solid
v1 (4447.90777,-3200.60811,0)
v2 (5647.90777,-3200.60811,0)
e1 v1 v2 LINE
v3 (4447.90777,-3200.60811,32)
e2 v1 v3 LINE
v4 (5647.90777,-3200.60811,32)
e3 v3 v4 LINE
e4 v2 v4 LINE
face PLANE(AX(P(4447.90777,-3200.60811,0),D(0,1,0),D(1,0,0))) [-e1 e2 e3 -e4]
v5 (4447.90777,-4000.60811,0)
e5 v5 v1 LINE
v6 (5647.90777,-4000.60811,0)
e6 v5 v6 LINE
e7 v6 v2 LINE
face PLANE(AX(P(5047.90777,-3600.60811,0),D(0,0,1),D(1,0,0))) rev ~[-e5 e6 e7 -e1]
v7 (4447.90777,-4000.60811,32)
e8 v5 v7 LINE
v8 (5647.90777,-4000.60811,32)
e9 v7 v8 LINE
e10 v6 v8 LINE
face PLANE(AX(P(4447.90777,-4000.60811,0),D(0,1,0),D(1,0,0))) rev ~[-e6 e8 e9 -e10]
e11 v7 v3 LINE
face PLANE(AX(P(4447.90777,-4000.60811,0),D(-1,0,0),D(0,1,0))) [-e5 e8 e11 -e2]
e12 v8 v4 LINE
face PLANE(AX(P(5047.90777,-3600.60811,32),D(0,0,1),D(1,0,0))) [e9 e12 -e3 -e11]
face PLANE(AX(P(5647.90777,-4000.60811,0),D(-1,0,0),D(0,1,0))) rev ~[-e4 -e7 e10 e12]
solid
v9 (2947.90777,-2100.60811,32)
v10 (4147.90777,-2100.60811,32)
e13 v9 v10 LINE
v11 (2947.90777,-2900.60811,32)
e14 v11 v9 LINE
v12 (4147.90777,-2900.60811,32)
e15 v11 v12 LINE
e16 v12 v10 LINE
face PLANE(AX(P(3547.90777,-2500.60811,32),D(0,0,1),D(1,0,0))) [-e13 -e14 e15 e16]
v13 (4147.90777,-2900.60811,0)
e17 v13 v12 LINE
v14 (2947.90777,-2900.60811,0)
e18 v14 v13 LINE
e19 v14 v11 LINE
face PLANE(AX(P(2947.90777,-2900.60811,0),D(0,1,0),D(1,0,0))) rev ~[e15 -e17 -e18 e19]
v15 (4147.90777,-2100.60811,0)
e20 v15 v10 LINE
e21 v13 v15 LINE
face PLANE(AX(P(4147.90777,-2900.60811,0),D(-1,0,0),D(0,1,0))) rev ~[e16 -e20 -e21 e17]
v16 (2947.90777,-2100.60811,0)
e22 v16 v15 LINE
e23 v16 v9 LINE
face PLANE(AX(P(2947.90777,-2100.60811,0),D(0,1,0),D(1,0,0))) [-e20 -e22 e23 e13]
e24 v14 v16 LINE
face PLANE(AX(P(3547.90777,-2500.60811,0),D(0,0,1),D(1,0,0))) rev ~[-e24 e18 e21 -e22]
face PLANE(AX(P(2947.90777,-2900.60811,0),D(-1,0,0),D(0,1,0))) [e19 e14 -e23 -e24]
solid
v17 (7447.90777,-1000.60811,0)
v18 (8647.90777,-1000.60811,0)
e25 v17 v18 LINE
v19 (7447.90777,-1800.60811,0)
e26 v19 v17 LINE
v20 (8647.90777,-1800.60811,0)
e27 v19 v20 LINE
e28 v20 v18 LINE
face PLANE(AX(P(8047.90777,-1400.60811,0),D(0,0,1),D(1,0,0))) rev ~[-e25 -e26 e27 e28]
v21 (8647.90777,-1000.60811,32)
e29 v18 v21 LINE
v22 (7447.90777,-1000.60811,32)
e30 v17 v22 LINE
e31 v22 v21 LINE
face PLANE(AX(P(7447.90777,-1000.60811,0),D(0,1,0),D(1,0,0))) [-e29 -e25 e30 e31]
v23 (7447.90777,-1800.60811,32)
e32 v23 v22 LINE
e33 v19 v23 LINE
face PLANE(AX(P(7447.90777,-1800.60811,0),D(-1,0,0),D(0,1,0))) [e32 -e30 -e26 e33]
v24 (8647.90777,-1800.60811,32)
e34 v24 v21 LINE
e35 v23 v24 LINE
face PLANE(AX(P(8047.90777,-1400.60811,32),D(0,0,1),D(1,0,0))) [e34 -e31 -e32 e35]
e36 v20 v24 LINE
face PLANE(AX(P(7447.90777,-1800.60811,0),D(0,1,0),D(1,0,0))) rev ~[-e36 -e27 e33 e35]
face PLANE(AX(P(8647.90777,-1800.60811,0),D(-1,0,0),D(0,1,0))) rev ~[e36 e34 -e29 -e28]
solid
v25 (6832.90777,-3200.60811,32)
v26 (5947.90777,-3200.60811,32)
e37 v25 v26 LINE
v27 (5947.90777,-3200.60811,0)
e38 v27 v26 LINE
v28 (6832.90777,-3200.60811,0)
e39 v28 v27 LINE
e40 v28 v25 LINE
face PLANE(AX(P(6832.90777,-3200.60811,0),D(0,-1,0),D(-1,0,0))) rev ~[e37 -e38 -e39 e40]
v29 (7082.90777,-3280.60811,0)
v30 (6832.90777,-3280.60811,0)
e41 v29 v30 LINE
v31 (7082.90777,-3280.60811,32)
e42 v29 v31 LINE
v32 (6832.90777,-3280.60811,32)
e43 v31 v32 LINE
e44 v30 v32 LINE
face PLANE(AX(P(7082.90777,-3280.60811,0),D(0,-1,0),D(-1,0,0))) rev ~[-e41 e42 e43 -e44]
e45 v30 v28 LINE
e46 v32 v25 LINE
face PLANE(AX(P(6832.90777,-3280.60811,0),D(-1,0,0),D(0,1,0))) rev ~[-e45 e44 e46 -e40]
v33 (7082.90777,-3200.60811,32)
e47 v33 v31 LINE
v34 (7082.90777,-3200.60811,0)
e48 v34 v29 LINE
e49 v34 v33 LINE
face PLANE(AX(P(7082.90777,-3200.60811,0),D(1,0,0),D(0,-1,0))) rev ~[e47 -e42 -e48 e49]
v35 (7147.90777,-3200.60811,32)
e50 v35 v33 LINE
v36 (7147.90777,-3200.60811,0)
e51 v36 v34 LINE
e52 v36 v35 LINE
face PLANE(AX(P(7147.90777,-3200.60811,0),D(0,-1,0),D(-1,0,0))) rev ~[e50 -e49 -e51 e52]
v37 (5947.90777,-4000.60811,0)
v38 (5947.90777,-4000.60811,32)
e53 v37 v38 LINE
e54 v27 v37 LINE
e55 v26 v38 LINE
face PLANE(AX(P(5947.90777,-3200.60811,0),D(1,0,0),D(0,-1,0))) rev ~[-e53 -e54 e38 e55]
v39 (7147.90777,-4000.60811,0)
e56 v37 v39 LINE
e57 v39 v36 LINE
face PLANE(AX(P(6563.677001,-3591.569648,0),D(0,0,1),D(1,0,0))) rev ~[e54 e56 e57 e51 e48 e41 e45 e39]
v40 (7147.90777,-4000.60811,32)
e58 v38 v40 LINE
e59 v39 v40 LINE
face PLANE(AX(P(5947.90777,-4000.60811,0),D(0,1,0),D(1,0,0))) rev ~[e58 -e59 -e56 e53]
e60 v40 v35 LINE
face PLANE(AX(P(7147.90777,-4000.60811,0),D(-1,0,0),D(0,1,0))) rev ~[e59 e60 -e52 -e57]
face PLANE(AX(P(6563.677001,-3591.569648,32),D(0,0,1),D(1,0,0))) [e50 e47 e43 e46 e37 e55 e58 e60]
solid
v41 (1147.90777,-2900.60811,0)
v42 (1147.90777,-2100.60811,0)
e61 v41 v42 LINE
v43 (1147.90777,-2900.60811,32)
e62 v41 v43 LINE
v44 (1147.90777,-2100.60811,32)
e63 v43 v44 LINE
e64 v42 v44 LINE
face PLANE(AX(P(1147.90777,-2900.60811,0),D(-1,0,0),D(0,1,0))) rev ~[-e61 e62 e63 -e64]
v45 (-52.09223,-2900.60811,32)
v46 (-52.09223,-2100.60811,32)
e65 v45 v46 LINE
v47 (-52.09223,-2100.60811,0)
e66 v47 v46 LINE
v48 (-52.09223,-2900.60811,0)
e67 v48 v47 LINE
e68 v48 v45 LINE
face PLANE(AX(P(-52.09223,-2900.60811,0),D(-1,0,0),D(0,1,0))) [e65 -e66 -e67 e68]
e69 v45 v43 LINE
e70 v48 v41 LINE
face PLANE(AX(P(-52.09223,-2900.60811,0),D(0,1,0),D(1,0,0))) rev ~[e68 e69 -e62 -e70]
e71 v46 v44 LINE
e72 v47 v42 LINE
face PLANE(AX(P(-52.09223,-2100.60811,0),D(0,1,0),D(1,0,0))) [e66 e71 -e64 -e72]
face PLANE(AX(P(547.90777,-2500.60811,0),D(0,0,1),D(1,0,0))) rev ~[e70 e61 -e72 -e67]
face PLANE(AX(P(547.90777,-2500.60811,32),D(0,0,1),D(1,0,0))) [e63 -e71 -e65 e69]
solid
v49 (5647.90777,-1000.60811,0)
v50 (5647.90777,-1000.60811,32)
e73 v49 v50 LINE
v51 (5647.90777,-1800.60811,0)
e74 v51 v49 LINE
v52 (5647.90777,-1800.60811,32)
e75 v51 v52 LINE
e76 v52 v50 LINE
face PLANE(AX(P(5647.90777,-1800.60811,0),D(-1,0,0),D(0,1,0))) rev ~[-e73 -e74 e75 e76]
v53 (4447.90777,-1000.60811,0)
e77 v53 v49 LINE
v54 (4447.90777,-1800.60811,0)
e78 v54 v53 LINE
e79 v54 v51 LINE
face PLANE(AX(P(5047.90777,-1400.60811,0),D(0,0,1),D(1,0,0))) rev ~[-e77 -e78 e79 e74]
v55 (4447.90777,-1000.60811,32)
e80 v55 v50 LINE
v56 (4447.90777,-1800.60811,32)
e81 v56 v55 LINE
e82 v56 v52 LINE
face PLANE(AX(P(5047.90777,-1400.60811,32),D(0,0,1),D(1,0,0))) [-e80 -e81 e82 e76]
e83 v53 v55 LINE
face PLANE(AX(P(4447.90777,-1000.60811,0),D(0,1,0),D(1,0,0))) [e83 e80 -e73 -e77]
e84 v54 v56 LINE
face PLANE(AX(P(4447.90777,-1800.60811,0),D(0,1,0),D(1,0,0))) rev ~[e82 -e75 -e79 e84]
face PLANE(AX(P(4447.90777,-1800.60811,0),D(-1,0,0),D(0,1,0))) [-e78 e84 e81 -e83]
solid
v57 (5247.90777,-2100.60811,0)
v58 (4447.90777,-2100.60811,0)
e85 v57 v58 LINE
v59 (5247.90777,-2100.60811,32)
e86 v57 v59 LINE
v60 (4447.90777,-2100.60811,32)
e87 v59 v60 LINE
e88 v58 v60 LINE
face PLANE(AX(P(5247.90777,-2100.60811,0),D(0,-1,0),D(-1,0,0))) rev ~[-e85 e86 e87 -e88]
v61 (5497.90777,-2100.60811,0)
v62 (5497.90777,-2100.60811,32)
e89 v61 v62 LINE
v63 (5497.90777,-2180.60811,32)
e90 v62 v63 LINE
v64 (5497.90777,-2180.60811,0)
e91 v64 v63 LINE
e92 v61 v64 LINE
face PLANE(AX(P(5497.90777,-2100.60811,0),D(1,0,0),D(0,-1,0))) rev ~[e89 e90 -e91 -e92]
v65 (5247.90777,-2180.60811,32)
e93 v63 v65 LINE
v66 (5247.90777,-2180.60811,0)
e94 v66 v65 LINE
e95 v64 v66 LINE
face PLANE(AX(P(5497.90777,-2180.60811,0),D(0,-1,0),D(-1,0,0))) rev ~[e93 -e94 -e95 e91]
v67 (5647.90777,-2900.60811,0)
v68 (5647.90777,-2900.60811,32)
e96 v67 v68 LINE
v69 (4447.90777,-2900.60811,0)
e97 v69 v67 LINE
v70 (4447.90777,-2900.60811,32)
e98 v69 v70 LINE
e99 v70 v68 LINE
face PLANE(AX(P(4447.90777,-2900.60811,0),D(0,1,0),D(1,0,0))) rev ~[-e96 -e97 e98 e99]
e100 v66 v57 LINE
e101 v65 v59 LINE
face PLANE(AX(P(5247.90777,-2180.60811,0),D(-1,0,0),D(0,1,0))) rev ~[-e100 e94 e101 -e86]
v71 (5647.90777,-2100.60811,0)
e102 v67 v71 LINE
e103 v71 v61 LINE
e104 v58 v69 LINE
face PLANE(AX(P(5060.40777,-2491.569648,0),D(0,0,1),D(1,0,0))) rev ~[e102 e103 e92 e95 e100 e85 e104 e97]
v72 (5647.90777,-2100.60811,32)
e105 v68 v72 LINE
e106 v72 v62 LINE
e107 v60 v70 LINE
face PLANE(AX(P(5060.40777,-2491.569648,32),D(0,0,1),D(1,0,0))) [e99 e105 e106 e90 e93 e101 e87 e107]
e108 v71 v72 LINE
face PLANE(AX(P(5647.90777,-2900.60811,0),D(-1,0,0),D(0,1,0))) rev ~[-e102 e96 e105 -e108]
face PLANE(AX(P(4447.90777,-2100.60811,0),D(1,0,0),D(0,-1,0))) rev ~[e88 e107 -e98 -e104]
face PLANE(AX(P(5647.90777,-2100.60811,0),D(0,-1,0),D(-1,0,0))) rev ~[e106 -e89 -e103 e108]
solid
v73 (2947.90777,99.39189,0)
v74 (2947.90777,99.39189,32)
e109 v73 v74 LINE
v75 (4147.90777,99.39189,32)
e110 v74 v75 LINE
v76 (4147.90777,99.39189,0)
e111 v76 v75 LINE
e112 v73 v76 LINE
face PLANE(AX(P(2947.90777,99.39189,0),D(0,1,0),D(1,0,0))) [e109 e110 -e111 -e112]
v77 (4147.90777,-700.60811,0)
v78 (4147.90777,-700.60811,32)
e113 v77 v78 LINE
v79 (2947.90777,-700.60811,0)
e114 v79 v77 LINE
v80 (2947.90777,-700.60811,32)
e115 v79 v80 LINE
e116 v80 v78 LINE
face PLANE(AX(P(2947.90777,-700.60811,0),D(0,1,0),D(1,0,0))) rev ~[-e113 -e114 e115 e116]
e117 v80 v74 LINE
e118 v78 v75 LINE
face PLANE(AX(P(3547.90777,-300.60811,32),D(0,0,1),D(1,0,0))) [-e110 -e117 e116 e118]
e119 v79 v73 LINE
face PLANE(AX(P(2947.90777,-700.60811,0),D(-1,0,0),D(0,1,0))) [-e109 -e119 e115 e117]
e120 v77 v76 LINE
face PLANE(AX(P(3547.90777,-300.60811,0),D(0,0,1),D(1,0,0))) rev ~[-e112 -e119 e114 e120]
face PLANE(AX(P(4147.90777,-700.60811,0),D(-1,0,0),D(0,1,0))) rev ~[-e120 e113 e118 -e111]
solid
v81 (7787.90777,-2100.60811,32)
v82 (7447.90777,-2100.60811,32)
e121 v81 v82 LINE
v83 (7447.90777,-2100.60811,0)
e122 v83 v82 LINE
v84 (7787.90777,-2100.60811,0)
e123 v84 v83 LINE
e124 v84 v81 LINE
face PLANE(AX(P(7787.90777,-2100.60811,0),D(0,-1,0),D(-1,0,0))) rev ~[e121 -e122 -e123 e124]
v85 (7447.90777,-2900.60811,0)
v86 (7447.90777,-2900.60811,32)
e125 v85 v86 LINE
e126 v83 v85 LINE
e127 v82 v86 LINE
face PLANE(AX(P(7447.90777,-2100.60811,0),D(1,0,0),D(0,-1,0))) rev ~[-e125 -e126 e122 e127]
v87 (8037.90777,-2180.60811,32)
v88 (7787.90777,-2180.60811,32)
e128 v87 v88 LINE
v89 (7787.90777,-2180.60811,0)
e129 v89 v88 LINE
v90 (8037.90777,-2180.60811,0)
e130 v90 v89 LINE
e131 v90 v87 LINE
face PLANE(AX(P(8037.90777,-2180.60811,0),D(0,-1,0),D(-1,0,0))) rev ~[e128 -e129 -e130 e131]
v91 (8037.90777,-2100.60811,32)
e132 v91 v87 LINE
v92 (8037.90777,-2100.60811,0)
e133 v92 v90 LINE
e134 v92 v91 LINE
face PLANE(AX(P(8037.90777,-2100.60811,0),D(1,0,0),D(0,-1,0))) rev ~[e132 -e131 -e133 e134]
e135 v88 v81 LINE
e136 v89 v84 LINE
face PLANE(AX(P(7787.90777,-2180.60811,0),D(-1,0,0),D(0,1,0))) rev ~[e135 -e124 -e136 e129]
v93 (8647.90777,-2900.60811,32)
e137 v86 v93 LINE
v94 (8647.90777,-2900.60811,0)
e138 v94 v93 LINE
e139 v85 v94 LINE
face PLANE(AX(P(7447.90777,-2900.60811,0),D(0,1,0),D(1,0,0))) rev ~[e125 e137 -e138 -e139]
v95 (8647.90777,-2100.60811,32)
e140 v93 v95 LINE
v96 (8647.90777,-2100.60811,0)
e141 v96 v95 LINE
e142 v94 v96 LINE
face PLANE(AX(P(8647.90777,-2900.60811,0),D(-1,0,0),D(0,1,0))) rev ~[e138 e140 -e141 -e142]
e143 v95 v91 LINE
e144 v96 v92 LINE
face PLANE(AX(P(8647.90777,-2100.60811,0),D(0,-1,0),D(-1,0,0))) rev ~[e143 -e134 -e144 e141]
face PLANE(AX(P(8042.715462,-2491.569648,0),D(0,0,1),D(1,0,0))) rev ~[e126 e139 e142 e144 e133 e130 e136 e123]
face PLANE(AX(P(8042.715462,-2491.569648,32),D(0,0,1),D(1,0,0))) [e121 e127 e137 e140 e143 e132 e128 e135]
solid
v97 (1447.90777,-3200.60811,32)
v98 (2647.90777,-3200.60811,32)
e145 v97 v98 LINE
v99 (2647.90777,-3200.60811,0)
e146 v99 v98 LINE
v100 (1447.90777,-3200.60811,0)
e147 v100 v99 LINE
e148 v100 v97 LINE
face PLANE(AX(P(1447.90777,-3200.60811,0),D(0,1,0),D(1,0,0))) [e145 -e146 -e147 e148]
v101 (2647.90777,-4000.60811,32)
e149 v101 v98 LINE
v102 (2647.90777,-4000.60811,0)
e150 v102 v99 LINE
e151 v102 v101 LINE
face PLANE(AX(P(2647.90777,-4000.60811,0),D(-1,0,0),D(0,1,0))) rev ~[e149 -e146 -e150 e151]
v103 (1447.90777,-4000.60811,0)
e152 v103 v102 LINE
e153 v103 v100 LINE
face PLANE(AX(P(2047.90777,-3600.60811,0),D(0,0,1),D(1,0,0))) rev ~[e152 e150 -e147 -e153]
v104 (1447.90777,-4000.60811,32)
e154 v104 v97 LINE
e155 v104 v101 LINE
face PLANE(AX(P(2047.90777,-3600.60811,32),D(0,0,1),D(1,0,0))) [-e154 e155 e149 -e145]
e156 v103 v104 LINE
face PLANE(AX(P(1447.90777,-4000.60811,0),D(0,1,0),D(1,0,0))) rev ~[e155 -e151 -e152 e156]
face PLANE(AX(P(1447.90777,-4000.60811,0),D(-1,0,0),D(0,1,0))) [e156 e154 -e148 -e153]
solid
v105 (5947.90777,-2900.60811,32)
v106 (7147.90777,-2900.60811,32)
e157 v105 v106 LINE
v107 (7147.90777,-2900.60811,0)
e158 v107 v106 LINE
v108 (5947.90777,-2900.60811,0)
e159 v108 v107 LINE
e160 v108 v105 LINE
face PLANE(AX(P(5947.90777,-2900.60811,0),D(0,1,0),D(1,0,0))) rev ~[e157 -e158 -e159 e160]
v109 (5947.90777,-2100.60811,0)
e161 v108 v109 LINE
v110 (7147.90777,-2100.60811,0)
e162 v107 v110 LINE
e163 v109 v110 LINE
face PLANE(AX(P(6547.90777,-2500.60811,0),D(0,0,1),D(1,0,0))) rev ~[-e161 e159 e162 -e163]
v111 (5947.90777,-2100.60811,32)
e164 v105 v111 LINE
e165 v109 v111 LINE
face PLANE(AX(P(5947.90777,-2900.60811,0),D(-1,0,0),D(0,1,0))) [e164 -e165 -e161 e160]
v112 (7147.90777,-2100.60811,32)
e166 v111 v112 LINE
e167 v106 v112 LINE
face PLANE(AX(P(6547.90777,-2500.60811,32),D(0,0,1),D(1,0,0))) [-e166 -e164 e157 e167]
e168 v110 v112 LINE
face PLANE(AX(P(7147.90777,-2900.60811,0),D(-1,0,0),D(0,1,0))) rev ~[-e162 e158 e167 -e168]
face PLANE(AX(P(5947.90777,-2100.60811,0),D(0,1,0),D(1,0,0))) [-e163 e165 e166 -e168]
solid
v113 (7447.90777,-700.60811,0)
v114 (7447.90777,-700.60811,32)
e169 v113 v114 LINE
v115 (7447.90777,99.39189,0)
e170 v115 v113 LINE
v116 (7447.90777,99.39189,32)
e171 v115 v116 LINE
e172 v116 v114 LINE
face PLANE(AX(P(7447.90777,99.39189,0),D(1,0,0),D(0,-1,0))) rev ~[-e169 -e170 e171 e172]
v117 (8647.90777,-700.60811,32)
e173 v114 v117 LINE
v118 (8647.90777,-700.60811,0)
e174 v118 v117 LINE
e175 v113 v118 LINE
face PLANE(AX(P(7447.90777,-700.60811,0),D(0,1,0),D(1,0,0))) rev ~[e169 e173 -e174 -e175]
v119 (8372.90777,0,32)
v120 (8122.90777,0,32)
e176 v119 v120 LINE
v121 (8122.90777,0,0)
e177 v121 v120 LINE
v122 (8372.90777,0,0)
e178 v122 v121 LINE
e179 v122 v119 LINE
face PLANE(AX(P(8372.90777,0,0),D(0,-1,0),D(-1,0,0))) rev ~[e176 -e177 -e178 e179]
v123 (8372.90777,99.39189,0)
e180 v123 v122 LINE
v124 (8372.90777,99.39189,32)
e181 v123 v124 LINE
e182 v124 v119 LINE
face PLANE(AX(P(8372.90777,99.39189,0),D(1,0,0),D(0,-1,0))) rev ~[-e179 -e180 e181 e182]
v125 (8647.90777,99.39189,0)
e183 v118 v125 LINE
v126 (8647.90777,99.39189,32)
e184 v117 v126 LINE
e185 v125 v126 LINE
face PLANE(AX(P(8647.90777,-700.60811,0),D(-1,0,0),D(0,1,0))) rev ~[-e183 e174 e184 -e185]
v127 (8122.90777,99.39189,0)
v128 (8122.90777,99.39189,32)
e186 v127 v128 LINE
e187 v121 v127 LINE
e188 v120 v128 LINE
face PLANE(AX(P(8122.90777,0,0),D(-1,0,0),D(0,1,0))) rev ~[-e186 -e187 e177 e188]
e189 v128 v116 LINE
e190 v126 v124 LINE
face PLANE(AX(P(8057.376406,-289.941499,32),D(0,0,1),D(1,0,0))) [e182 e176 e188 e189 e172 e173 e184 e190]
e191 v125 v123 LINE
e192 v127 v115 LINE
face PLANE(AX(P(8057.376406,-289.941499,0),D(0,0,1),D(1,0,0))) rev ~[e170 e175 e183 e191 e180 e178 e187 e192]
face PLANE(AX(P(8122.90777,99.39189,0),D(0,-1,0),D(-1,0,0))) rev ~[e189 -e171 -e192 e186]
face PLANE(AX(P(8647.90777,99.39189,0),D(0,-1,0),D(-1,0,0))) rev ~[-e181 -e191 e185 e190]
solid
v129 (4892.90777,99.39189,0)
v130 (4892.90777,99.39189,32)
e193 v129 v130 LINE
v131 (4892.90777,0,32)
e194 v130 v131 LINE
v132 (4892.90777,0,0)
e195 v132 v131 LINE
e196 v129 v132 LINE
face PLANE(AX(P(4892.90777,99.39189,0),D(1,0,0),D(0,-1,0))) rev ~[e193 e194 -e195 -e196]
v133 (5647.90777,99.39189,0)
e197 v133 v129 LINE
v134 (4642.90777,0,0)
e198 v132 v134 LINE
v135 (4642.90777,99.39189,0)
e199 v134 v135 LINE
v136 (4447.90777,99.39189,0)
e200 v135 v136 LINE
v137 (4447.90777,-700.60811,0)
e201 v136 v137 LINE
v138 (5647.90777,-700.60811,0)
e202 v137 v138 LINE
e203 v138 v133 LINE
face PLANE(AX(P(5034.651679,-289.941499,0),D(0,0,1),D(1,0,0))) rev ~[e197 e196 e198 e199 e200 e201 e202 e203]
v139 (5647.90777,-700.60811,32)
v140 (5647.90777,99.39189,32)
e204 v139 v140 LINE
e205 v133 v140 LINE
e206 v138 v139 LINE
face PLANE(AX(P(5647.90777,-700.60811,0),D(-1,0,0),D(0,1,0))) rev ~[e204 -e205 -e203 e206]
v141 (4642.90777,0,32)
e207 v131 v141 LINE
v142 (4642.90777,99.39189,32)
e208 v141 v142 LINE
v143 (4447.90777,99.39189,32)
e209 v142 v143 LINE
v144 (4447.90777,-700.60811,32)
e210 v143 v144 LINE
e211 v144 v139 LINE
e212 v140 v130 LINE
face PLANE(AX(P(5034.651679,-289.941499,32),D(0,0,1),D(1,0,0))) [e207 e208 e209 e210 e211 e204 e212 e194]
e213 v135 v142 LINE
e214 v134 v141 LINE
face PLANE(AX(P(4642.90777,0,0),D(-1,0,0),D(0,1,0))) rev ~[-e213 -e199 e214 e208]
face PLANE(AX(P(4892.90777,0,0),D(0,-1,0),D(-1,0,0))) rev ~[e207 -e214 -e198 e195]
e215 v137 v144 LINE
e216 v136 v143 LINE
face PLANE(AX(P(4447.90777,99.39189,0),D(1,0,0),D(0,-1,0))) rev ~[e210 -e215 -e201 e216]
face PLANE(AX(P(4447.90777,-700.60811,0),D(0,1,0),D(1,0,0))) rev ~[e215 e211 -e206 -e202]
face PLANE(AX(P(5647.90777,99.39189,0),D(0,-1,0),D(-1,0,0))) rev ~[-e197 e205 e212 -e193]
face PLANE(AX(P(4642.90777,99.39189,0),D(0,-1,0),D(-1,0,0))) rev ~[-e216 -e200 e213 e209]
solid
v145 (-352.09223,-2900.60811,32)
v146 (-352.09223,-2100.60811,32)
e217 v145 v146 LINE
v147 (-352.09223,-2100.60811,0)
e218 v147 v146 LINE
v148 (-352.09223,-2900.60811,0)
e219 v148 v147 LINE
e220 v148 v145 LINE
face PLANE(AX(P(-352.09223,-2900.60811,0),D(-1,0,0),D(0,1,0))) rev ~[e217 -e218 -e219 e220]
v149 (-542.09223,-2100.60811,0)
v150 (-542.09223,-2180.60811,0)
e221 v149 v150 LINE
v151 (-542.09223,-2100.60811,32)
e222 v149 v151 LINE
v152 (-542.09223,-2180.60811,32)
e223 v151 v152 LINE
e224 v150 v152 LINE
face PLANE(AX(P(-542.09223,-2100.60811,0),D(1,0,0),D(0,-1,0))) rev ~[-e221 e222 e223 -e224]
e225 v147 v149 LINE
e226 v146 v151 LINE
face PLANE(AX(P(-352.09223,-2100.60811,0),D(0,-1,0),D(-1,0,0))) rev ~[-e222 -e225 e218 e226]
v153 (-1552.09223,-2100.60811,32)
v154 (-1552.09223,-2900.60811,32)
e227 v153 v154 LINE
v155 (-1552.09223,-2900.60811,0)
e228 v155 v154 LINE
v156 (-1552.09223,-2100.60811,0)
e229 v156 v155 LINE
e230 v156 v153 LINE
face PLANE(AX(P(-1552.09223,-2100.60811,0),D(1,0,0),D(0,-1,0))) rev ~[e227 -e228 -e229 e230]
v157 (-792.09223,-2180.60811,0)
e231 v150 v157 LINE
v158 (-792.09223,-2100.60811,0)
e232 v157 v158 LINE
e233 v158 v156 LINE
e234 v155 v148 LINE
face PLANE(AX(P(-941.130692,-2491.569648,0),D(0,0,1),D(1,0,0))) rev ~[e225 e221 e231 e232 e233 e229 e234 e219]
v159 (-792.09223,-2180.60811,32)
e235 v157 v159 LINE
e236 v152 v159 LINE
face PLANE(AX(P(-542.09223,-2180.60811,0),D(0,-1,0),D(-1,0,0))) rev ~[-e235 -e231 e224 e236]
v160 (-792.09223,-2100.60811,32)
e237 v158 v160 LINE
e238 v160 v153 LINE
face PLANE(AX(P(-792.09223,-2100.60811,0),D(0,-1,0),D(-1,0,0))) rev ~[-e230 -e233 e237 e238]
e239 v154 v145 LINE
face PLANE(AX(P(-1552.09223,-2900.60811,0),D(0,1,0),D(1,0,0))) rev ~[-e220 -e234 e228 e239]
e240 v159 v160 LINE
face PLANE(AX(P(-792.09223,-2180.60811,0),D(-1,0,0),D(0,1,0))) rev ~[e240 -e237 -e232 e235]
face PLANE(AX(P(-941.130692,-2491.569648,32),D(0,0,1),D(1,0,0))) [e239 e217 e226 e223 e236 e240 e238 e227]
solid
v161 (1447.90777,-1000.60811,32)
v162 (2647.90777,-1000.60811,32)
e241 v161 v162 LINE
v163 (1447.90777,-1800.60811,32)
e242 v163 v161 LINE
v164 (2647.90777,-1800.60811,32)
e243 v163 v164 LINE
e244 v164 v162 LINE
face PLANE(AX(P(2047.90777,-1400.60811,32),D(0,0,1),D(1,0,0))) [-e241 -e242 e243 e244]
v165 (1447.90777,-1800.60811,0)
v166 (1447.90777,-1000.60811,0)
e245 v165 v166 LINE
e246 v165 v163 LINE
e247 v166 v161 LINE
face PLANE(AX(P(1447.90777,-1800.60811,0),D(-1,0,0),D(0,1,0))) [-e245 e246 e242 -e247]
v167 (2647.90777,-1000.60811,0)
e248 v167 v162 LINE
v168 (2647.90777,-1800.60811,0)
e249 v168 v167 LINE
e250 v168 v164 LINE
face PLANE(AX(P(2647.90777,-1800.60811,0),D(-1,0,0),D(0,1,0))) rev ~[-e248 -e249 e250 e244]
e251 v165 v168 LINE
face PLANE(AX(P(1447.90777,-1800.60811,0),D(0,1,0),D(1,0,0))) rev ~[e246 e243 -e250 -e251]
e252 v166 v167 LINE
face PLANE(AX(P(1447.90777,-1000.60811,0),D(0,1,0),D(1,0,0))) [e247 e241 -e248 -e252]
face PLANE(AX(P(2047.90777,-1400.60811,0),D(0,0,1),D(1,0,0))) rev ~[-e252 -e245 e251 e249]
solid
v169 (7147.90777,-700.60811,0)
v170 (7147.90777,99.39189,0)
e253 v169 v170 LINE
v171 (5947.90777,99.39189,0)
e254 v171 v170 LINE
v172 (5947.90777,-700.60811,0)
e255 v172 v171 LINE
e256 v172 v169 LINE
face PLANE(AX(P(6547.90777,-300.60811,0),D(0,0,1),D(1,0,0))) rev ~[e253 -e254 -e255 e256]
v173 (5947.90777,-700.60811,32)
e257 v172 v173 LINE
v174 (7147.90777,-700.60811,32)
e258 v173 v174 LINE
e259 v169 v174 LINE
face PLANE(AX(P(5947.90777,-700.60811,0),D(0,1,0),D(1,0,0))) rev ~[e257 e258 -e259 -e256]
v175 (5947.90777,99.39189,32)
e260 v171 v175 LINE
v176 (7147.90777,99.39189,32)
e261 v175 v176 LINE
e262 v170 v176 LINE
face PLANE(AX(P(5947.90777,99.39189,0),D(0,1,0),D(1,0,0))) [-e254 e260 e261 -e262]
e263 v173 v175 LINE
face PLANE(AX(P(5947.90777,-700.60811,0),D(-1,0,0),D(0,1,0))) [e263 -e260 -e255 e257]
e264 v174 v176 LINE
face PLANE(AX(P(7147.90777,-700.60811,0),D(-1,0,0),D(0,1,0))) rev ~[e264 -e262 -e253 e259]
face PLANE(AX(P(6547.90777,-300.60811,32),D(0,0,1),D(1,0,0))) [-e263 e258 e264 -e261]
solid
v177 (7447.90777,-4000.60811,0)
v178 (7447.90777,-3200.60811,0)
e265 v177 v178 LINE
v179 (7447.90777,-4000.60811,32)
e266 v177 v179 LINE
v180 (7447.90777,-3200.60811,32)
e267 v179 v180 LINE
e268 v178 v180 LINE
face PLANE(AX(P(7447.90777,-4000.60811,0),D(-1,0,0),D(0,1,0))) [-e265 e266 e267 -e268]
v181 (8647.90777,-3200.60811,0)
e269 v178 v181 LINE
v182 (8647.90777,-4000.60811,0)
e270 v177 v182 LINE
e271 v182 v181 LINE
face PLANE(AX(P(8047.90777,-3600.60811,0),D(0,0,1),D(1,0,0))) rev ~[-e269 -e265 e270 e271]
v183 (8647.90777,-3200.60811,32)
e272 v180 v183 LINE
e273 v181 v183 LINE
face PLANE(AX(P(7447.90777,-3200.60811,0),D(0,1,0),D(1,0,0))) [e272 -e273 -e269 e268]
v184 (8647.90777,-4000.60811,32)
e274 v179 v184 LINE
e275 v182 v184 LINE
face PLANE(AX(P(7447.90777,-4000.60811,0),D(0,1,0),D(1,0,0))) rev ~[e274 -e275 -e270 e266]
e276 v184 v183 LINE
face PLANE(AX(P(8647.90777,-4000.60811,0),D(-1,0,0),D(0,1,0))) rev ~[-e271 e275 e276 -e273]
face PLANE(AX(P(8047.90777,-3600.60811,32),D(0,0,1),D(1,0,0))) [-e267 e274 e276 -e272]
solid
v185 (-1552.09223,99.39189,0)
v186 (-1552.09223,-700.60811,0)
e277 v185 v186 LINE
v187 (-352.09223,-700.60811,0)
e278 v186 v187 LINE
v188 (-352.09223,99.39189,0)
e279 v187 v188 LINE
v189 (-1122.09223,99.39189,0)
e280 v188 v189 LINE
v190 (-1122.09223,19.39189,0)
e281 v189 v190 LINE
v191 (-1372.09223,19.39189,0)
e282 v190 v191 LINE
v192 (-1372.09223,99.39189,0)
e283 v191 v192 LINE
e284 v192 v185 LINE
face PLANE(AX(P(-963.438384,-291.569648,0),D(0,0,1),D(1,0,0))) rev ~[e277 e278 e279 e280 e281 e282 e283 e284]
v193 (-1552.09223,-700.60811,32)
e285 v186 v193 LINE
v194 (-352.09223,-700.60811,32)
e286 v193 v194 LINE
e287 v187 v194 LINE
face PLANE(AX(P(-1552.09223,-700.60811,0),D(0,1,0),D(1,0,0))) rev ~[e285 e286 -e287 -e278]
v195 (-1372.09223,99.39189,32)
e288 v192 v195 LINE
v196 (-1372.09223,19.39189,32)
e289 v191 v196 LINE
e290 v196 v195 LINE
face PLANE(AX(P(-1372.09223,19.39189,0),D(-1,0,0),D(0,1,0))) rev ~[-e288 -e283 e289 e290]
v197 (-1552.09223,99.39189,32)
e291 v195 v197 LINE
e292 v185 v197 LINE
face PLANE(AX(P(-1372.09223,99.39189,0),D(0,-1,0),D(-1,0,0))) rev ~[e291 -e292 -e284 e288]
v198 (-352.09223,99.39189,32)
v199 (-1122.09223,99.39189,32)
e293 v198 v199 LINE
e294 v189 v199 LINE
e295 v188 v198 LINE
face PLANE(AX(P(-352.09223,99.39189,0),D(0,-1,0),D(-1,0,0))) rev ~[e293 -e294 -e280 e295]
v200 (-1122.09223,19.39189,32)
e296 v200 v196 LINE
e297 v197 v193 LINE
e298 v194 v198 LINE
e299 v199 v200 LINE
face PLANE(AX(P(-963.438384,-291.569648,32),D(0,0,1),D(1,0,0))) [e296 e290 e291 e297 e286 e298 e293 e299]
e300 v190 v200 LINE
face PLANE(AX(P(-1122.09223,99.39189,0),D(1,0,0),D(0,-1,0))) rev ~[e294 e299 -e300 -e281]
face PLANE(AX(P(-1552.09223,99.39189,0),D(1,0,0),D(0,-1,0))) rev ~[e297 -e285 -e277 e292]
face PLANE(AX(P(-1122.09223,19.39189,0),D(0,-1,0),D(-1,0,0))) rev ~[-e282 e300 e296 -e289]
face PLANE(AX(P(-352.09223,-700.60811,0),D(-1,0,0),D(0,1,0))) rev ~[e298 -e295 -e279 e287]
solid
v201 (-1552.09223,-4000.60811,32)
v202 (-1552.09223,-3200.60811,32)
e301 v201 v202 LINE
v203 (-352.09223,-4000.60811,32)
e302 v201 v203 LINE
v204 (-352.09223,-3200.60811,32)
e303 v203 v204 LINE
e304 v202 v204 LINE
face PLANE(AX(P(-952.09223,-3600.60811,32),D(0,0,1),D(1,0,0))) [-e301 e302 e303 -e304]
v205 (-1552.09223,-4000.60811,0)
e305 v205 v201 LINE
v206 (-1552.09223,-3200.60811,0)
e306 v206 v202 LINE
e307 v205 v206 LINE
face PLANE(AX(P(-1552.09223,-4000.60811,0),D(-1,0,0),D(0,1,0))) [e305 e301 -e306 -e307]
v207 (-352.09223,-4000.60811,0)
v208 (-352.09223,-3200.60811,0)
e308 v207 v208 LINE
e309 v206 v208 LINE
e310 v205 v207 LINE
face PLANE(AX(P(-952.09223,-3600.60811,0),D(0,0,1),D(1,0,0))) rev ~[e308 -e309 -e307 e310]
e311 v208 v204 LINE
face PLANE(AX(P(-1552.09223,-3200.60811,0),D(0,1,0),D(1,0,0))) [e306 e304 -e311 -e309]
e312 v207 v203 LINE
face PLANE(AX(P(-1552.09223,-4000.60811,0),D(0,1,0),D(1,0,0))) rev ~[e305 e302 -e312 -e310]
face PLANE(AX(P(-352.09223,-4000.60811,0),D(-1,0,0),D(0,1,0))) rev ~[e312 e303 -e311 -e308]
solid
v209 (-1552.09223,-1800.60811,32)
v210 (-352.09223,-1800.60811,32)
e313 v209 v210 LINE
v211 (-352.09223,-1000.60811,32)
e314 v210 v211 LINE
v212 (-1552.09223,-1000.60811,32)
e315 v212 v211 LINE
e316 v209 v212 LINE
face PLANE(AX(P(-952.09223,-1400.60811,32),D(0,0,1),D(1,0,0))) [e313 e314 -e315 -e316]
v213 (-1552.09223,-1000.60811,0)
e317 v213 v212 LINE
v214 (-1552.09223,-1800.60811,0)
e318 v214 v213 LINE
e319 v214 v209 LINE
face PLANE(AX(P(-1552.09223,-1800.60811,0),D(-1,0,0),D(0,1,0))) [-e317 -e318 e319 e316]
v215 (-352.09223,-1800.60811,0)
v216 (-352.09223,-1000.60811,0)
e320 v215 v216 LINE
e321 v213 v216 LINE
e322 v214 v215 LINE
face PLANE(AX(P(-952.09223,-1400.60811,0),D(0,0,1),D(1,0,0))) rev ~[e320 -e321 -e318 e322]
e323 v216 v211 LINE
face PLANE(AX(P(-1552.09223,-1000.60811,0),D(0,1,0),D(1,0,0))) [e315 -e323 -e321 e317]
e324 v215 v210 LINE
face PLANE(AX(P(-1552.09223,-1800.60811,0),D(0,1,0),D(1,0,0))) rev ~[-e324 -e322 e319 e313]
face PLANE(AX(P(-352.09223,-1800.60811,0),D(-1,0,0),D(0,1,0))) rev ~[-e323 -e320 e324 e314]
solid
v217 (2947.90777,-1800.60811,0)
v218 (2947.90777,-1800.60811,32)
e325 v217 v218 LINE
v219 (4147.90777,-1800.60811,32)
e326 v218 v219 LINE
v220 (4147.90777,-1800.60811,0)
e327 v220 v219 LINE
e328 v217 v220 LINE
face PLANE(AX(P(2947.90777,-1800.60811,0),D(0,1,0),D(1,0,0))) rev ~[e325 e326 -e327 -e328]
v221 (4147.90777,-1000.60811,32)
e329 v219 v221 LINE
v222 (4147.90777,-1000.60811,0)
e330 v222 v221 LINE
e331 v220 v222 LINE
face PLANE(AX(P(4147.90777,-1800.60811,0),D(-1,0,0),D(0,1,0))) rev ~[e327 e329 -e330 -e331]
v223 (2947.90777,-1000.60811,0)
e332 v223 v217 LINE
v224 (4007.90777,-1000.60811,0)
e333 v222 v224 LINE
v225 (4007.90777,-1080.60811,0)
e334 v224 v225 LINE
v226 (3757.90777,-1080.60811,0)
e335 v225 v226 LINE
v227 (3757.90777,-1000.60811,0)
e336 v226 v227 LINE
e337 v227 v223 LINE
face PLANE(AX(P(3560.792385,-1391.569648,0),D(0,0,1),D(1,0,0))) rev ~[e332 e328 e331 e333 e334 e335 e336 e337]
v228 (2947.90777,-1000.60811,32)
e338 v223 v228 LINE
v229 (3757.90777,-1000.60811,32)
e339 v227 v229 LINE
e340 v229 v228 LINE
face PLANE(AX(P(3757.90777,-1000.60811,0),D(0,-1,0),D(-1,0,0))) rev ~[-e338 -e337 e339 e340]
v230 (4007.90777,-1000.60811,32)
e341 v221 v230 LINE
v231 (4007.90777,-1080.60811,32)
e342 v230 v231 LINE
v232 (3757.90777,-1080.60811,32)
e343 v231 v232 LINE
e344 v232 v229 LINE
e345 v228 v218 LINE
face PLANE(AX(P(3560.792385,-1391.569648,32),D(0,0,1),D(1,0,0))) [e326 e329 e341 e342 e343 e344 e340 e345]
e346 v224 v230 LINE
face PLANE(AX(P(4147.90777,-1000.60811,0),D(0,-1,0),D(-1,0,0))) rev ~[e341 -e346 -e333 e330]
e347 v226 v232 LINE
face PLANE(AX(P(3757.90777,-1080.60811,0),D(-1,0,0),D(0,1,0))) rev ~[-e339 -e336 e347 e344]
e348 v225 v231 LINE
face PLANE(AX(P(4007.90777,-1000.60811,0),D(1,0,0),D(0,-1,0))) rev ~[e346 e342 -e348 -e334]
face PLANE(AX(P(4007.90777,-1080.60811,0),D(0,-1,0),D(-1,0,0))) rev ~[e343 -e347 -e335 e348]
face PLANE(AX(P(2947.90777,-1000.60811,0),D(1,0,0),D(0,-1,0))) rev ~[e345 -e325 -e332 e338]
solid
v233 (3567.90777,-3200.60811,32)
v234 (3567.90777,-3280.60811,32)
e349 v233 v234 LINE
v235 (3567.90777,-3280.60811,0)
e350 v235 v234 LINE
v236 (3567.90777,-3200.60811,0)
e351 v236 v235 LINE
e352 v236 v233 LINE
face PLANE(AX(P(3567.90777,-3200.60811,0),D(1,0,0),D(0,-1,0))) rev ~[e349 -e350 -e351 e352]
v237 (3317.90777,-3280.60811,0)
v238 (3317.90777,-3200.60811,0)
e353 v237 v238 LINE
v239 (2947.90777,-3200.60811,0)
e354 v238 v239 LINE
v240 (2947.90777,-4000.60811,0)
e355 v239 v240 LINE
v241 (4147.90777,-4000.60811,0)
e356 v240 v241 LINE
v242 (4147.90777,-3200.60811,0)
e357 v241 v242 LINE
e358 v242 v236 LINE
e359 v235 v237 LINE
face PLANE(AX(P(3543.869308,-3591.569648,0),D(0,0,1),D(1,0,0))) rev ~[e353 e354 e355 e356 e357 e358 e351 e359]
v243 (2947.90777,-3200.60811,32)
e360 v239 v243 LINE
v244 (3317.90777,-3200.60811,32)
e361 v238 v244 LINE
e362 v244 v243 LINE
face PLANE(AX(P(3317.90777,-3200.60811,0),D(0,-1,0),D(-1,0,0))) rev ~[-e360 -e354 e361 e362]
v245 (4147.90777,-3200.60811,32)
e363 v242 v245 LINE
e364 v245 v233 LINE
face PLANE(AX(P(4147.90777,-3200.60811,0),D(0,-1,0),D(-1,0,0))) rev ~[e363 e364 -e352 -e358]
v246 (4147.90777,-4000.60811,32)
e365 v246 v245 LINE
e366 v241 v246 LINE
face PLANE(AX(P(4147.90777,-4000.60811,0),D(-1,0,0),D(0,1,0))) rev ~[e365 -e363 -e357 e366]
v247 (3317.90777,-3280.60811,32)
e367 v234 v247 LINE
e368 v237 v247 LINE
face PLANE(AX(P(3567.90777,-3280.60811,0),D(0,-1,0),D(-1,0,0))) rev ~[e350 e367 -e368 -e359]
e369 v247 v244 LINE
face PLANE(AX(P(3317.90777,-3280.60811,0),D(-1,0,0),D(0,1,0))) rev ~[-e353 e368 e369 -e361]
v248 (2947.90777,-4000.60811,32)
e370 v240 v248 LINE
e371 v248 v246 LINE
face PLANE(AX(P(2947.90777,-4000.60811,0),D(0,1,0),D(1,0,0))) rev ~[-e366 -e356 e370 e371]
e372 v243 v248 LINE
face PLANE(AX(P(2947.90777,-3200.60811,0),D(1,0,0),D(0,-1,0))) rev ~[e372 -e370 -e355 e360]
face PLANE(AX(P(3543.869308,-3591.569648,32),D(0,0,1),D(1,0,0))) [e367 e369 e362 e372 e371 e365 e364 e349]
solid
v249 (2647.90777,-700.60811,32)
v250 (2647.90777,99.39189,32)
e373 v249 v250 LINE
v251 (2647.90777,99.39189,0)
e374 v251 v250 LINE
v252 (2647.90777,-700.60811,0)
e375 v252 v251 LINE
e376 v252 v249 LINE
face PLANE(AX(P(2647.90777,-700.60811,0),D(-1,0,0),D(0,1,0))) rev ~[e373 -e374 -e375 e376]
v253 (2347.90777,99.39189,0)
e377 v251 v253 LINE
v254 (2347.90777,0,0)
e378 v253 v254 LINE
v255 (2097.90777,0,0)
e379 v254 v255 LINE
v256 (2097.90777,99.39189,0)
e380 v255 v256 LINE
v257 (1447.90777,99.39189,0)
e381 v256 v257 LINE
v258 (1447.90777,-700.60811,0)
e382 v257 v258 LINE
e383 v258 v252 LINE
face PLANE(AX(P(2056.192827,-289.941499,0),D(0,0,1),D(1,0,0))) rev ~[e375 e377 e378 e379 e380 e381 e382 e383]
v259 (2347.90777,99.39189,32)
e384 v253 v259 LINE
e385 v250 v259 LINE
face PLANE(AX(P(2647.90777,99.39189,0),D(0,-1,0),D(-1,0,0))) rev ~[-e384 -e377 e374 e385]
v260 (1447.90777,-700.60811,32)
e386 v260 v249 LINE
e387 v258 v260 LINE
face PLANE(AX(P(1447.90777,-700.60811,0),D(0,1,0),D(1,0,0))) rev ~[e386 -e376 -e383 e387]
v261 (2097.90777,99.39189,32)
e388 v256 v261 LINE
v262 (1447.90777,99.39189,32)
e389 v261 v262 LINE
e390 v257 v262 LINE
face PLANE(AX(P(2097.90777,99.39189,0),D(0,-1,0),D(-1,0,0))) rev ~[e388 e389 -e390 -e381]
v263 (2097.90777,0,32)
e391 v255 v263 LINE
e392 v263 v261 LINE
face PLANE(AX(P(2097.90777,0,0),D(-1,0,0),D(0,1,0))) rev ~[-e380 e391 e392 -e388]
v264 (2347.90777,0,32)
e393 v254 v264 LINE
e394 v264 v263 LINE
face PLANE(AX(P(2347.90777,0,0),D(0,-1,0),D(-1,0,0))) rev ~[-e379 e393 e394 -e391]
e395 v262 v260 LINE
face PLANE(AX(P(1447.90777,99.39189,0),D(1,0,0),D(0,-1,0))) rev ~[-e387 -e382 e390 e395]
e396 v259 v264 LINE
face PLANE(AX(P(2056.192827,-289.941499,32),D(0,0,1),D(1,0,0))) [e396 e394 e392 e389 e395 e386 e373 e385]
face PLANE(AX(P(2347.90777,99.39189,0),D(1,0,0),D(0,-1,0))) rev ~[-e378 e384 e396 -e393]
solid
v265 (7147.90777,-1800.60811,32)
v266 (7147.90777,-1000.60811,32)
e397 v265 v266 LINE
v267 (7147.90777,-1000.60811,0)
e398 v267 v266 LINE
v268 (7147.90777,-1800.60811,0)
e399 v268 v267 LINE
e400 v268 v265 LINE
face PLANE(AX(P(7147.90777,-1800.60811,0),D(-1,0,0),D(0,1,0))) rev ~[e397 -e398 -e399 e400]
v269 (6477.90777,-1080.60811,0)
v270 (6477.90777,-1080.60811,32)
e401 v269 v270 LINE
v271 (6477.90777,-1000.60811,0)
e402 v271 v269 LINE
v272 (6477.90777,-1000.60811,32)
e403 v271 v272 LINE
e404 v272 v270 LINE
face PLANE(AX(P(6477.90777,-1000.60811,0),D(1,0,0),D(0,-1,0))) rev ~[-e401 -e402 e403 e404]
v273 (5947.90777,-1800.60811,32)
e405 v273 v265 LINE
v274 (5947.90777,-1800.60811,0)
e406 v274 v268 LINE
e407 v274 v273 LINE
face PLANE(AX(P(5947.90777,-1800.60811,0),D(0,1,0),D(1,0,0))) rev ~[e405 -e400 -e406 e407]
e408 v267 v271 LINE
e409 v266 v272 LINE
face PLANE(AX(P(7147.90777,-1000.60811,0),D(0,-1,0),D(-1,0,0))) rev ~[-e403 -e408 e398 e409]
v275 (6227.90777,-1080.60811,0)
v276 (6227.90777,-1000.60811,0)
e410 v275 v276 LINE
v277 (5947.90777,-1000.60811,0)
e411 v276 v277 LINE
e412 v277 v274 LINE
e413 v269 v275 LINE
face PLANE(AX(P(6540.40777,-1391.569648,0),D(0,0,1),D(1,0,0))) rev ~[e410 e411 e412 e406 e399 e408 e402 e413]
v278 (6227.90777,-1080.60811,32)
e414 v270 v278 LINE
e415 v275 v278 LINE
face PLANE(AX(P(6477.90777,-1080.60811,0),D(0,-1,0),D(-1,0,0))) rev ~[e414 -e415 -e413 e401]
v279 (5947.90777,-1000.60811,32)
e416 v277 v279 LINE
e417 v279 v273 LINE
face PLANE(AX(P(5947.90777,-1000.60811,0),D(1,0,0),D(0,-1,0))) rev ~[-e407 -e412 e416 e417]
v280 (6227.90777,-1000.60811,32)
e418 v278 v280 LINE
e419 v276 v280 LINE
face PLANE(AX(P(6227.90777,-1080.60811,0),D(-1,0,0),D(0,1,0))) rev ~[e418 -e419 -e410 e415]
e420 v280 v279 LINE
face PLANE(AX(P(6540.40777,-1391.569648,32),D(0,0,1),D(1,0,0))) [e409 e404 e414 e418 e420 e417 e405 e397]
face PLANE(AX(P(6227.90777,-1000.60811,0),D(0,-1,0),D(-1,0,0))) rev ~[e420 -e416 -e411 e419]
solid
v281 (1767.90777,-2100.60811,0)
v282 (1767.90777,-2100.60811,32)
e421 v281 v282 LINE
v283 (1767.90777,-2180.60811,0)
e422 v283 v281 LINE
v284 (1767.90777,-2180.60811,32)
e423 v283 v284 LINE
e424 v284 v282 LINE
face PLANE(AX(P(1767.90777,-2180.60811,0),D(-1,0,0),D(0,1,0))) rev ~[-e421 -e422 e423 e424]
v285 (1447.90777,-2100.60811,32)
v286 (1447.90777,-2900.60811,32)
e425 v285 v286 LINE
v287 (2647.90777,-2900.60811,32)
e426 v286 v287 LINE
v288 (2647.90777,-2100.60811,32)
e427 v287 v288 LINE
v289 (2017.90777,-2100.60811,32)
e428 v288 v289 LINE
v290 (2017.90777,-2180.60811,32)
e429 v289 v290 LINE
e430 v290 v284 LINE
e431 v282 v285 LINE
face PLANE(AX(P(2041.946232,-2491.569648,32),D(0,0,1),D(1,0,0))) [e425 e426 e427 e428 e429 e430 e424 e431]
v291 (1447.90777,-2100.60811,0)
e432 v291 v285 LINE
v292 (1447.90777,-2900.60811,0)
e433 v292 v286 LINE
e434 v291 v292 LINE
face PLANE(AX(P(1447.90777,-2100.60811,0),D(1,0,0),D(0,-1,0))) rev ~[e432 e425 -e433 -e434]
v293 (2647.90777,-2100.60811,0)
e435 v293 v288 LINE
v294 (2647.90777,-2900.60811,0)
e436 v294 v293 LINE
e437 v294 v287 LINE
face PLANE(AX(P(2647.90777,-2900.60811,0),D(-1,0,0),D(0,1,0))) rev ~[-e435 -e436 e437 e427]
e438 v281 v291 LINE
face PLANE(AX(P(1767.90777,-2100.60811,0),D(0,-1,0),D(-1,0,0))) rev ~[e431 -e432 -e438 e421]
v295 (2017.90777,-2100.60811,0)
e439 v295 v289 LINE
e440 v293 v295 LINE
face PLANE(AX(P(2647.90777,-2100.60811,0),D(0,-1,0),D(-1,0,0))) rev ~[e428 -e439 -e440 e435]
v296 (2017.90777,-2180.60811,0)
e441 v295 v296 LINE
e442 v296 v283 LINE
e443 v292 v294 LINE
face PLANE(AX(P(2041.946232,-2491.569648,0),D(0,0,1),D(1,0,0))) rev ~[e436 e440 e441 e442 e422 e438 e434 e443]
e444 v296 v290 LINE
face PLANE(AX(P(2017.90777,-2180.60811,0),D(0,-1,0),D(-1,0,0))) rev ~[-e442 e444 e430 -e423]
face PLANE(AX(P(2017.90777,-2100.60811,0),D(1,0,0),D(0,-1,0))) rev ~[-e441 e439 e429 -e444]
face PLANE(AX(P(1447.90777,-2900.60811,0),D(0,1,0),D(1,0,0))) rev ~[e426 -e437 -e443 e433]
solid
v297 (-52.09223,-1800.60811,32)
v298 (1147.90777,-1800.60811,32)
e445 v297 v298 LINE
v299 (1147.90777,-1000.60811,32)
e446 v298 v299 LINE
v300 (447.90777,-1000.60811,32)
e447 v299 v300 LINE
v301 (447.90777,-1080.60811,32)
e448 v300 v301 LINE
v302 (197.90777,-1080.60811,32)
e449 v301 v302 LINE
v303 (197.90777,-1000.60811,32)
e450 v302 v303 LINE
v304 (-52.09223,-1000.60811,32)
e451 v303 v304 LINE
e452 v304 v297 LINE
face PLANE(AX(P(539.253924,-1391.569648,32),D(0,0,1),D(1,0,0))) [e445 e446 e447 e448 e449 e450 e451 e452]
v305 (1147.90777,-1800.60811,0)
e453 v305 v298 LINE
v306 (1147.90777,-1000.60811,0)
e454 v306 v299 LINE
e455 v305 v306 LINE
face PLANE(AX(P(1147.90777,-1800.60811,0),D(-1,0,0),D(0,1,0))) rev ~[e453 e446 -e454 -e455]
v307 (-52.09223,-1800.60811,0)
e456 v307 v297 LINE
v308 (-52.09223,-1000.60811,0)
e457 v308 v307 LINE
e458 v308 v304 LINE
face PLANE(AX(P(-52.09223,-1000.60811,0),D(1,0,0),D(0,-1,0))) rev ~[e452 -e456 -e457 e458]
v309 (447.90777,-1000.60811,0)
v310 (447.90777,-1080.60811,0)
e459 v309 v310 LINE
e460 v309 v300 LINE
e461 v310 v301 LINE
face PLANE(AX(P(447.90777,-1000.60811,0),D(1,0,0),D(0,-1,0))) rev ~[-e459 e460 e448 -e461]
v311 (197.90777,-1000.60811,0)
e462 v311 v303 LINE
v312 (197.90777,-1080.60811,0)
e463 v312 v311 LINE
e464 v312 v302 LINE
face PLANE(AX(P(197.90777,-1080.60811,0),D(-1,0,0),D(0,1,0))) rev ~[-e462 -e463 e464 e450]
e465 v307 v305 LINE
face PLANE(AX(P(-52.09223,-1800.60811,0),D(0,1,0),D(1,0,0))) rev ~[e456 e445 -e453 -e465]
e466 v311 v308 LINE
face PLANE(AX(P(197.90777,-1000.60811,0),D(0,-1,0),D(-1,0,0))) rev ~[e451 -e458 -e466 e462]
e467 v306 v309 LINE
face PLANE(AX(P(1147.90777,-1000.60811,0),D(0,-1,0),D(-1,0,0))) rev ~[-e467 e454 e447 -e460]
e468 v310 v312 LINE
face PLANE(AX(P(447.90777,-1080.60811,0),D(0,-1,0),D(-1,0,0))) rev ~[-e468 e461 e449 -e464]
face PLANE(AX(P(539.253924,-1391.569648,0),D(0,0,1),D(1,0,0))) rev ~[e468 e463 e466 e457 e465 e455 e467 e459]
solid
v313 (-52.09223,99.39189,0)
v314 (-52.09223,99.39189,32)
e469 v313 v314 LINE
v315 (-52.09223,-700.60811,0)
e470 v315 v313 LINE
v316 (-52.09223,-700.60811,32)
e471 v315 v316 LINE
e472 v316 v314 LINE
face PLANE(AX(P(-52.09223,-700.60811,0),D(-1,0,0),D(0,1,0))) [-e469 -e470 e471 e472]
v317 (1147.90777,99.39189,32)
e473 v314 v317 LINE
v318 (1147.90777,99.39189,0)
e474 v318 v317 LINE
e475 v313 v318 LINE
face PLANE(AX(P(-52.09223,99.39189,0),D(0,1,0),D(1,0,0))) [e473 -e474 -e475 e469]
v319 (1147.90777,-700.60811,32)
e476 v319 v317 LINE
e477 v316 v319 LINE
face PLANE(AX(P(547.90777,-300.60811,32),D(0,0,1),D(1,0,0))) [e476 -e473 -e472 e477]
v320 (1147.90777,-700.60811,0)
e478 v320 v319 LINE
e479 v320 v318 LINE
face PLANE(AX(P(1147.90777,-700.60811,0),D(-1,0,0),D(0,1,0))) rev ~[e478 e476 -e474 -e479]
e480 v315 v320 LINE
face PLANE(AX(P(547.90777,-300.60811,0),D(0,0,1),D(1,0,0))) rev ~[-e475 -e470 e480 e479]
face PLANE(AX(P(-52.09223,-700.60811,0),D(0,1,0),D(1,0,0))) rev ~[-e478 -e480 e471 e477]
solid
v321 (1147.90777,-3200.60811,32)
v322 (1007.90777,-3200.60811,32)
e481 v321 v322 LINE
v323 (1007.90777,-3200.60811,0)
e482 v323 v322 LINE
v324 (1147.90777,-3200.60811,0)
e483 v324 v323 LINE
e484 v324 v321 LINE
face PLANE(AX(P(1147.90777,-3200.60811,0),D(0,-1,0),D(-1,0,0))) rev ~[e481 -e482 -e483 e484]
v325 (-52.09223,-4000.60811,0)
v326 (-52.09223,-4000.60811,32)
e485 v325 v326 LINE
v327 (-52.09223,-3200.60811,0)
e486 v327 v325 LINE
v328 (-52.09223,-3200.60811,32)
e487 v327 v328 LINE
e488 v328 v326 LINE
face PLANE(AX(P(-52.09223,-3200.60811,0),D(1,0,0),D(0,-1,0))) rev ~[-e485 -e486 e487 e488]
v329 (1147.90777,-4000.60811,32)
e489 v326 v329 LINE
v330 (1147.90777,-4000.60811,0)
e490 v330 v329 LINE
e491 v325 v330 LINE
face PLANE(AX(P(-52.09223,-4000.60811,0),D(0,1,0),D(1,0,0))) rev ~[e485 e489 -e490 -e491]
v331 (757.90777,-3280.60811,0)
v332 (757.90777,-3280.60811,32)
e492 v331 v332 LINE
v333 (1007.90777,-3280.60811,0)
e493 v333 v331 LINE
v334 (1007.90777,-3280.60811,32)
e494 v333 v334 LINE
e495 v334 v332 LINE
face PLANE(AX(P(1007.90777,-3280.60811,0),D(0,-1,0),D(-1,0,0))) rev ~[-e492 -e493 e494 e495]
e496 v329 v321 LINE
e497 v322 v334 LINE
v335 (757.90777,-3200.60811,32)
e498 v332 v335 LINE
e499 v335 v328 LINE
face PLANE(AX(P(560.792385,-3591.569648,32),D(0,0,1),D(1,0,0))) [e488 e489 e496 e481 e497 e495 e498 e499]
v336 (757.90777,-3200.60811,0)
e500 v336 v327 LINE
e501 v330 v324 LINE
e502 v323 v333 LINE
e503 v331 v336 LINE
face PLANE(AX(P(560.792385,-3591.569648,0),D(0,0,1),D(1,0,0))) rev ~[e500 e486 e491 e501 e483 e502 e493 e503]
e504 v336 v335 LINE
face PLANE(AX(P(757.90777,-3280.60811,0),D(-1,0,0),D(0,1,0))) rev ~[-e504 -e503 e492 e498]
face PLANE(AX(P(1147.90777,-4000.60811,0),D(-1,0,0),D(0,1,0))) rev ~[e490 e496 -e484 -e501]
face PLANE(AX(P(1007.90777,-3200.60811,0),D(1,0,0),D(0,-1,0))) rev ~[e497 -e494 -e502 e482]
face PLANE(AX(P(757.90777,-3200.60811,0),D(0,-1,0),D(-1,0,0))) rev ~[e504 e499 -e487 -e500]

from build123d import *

# Parameters (mm, degrees)
F0_W     = 1200
F0_H     = 800
F1_DEPTH = 32


with BuildPart() as f1:
    # F0 (on Top) → F1 (new body)
    with BuildSketch(Plane.XY):
        Polygon((-1372.09223, 99.39189), (-1552.09223, 99.39189), (-1552.09223, -700.60811), (-352.09223, -700.60811), (-352.09223, 99.39189), (-1122.09223, 99.39189), (-1122.09223, 19.39189), (-1372.09223, 19.39189), align=None)
        with Locations((547.90777, -300.60811)):
            Rectangle(F0_W, F0_H)
        Polygon((2647.90777, -700.60811), (2647.90777, 99.39189), (2347.90777, 99.39189), (2347.90777, 0), (2097.90777, 0), (2097.90777, 99.39189), (1447.90777, 99.39189), (1447.90777, -700.60811), align=None)
        with Locations((3547.90777, -300.60811)):
            Rectangle(F0_W, F0_H)
        Polygon((5647.90777, -700.60811), (5647.90777, 99.39189), (4892.90777, 99.39189), (4892.90777, 0), (4642.90777, 0), (4642.90777, 99.39189), (4447.90777, 99.39189), (4447.90777, -700.60811), align=None)
        with Locations((6547.90777, -300.60811)):
            Rectangle(F0_W, F0_H)
        Polygon((8647.90777, -700.60811), (8647.90777, 99.39189), (8372.90777, 99.39189), (8372.90777, 0), (8122.90777, 0), (8122.90777, 99.39189), (7447.90777, 99.39189), (7447.90777, -700.60811), align=None)
        with Locations((-952.09223, -1400.60811)):
            Rectangle(F0_W, F0_H)
        Polygon((1147.90777, -1800.60811), (1147.90777, -1000.60811), (447.90777, -1000.60811), (447.90777, -1080.60811), (197.90777, -1080.60811), (197.90777, -1000.60811), (-52.09223, -1000.60811), (-52.09223, -1800.60811), align=None)
        with Locations((2047.90777, -1400.60811)):
            Rectangle(F0_W, F0_H)
        Polygon((4147.90777, -1800.60811), (4147.90777, -1000.60811), (4007.90777, -1000.60811), (4007.90777, -1080.60811), (3757.90777, -1080.60811), (3757.90777, -1000.60811), (2947.90777, -1000.60811), (2947.90777, -1800.60811), align=None)
        with Locations((5047.90777, -1400.60811)):
            Rectangle(F0_W, F0_H)
        Polygon((7147.90777, -1800.60811), (7147.90777, -1000.60811), (6477.90777, -1000.60811), (6477.90777, -1080.60811), (6227.90777, -1080.60811), (6227.90777, -1000.60811), (5947.90777, -1000.60811), (5947.90777, -1800.60811), align=None)
        with Locations((8047.90777, -1400.60811)):
            Rectangle(F0_W, F0_H)
        Polygon((-352.09223, -2900.60811), (-352.09223, -2100.60811), (-542.09223, -2100.60811), (-542.09223, -2180.60811), (-792.09223, -2180.60811), (-792.09223, -2100.60811), (-1552.09223, -2100.60811), (-1552.09223, -2900.60811), align=None)
        with Locations((547.90777, -2500.60811)):
            Rectangle(F0_W, F0_H)
        Polygon((2647.90777, -2900.60811), (2647.90777, -2100.60811), (2017.90777, -2100.60811), (2017.90777, -2180.60811), (1767.90777, -2180.60811), (1767.90777, -2100.60811), (1447.90777, -2100.60811), (1447.90777, -2900.60811), align=None)
        with Locations((3547.90777, -2500.60811)):
            Rectangle(F0_W, F0_H)
        Polygon((5647.90777, -2900.60811), (5647.90777, -2100.60811), (5497.90777, -2100.60811), (5497.90777, -2180.60811), (5247.90777, -2180.60811), (5247.90777, -2100.60811), (4447.90777, -2100.60811), (4447.90777, -2900.60811), align=None)
        with Locations((6547.90777, -2500.60811)):
            Rectangle(F0_W, F0_H)
        Polygon((8647.90777, -2900.60811), (8647.90777, -2100.60811), (8037.90777, -2100.60811), (8037.90777, -2180.60811), (7787.90777, -2180.60811), (7787.90777, -2100.60811), (7447.90777, -2100.60811), (7447.90777, -2900.60811), align=None)
        with Locations((-952.09223, -3600.60811)):
            Rectangle(F0_W, F0_H)
        Polygon((1147.90777, -4000.60811), (1147.90777, -3200.60811), (1007.90777, -3200.60811), (1007.90777, -3280.60811), (757.90777, -3280.60811), (757.90777, -3200.60811), (-52.09223, -3200.60811), (-52.09223, -4000.60811), align=None)
        with Locations((2047.90777, -3600.60811)):
            Rectangle(F0_W, F0_H)
        Polygon((4147.90777, -4000.60811), (4147.90777, -3200.60811), (3567.90777, -3200.60811), (3567.90777, -3280.60811), (3317.90777, -3280.60811), (3317.90777, -3200.60811), (2947.90777, -3200.60811), (2947.90777, -4000.60811), align=None)
        with Locations((5047.90777, -3600.60811)):
            Rectangle(F0_W, F0_H)
        Polygon((7147.90777, -4000.60811), (7147.90777, -3200.60811), (7082.90777, -3200.60811), (7082.90777, -3280.60811), (6832.90777, -3280.60811), (6832.90777, -3200.60811), (5947.90777, -3200.60811), (5947.90777, -4000.60811), align=None)
        with Locations((8047.90777, -3600.60811)):
            Rectangle(F0_W, F0_H)
    extrude(amount=F1_DEPTH)


solid = f1.part
